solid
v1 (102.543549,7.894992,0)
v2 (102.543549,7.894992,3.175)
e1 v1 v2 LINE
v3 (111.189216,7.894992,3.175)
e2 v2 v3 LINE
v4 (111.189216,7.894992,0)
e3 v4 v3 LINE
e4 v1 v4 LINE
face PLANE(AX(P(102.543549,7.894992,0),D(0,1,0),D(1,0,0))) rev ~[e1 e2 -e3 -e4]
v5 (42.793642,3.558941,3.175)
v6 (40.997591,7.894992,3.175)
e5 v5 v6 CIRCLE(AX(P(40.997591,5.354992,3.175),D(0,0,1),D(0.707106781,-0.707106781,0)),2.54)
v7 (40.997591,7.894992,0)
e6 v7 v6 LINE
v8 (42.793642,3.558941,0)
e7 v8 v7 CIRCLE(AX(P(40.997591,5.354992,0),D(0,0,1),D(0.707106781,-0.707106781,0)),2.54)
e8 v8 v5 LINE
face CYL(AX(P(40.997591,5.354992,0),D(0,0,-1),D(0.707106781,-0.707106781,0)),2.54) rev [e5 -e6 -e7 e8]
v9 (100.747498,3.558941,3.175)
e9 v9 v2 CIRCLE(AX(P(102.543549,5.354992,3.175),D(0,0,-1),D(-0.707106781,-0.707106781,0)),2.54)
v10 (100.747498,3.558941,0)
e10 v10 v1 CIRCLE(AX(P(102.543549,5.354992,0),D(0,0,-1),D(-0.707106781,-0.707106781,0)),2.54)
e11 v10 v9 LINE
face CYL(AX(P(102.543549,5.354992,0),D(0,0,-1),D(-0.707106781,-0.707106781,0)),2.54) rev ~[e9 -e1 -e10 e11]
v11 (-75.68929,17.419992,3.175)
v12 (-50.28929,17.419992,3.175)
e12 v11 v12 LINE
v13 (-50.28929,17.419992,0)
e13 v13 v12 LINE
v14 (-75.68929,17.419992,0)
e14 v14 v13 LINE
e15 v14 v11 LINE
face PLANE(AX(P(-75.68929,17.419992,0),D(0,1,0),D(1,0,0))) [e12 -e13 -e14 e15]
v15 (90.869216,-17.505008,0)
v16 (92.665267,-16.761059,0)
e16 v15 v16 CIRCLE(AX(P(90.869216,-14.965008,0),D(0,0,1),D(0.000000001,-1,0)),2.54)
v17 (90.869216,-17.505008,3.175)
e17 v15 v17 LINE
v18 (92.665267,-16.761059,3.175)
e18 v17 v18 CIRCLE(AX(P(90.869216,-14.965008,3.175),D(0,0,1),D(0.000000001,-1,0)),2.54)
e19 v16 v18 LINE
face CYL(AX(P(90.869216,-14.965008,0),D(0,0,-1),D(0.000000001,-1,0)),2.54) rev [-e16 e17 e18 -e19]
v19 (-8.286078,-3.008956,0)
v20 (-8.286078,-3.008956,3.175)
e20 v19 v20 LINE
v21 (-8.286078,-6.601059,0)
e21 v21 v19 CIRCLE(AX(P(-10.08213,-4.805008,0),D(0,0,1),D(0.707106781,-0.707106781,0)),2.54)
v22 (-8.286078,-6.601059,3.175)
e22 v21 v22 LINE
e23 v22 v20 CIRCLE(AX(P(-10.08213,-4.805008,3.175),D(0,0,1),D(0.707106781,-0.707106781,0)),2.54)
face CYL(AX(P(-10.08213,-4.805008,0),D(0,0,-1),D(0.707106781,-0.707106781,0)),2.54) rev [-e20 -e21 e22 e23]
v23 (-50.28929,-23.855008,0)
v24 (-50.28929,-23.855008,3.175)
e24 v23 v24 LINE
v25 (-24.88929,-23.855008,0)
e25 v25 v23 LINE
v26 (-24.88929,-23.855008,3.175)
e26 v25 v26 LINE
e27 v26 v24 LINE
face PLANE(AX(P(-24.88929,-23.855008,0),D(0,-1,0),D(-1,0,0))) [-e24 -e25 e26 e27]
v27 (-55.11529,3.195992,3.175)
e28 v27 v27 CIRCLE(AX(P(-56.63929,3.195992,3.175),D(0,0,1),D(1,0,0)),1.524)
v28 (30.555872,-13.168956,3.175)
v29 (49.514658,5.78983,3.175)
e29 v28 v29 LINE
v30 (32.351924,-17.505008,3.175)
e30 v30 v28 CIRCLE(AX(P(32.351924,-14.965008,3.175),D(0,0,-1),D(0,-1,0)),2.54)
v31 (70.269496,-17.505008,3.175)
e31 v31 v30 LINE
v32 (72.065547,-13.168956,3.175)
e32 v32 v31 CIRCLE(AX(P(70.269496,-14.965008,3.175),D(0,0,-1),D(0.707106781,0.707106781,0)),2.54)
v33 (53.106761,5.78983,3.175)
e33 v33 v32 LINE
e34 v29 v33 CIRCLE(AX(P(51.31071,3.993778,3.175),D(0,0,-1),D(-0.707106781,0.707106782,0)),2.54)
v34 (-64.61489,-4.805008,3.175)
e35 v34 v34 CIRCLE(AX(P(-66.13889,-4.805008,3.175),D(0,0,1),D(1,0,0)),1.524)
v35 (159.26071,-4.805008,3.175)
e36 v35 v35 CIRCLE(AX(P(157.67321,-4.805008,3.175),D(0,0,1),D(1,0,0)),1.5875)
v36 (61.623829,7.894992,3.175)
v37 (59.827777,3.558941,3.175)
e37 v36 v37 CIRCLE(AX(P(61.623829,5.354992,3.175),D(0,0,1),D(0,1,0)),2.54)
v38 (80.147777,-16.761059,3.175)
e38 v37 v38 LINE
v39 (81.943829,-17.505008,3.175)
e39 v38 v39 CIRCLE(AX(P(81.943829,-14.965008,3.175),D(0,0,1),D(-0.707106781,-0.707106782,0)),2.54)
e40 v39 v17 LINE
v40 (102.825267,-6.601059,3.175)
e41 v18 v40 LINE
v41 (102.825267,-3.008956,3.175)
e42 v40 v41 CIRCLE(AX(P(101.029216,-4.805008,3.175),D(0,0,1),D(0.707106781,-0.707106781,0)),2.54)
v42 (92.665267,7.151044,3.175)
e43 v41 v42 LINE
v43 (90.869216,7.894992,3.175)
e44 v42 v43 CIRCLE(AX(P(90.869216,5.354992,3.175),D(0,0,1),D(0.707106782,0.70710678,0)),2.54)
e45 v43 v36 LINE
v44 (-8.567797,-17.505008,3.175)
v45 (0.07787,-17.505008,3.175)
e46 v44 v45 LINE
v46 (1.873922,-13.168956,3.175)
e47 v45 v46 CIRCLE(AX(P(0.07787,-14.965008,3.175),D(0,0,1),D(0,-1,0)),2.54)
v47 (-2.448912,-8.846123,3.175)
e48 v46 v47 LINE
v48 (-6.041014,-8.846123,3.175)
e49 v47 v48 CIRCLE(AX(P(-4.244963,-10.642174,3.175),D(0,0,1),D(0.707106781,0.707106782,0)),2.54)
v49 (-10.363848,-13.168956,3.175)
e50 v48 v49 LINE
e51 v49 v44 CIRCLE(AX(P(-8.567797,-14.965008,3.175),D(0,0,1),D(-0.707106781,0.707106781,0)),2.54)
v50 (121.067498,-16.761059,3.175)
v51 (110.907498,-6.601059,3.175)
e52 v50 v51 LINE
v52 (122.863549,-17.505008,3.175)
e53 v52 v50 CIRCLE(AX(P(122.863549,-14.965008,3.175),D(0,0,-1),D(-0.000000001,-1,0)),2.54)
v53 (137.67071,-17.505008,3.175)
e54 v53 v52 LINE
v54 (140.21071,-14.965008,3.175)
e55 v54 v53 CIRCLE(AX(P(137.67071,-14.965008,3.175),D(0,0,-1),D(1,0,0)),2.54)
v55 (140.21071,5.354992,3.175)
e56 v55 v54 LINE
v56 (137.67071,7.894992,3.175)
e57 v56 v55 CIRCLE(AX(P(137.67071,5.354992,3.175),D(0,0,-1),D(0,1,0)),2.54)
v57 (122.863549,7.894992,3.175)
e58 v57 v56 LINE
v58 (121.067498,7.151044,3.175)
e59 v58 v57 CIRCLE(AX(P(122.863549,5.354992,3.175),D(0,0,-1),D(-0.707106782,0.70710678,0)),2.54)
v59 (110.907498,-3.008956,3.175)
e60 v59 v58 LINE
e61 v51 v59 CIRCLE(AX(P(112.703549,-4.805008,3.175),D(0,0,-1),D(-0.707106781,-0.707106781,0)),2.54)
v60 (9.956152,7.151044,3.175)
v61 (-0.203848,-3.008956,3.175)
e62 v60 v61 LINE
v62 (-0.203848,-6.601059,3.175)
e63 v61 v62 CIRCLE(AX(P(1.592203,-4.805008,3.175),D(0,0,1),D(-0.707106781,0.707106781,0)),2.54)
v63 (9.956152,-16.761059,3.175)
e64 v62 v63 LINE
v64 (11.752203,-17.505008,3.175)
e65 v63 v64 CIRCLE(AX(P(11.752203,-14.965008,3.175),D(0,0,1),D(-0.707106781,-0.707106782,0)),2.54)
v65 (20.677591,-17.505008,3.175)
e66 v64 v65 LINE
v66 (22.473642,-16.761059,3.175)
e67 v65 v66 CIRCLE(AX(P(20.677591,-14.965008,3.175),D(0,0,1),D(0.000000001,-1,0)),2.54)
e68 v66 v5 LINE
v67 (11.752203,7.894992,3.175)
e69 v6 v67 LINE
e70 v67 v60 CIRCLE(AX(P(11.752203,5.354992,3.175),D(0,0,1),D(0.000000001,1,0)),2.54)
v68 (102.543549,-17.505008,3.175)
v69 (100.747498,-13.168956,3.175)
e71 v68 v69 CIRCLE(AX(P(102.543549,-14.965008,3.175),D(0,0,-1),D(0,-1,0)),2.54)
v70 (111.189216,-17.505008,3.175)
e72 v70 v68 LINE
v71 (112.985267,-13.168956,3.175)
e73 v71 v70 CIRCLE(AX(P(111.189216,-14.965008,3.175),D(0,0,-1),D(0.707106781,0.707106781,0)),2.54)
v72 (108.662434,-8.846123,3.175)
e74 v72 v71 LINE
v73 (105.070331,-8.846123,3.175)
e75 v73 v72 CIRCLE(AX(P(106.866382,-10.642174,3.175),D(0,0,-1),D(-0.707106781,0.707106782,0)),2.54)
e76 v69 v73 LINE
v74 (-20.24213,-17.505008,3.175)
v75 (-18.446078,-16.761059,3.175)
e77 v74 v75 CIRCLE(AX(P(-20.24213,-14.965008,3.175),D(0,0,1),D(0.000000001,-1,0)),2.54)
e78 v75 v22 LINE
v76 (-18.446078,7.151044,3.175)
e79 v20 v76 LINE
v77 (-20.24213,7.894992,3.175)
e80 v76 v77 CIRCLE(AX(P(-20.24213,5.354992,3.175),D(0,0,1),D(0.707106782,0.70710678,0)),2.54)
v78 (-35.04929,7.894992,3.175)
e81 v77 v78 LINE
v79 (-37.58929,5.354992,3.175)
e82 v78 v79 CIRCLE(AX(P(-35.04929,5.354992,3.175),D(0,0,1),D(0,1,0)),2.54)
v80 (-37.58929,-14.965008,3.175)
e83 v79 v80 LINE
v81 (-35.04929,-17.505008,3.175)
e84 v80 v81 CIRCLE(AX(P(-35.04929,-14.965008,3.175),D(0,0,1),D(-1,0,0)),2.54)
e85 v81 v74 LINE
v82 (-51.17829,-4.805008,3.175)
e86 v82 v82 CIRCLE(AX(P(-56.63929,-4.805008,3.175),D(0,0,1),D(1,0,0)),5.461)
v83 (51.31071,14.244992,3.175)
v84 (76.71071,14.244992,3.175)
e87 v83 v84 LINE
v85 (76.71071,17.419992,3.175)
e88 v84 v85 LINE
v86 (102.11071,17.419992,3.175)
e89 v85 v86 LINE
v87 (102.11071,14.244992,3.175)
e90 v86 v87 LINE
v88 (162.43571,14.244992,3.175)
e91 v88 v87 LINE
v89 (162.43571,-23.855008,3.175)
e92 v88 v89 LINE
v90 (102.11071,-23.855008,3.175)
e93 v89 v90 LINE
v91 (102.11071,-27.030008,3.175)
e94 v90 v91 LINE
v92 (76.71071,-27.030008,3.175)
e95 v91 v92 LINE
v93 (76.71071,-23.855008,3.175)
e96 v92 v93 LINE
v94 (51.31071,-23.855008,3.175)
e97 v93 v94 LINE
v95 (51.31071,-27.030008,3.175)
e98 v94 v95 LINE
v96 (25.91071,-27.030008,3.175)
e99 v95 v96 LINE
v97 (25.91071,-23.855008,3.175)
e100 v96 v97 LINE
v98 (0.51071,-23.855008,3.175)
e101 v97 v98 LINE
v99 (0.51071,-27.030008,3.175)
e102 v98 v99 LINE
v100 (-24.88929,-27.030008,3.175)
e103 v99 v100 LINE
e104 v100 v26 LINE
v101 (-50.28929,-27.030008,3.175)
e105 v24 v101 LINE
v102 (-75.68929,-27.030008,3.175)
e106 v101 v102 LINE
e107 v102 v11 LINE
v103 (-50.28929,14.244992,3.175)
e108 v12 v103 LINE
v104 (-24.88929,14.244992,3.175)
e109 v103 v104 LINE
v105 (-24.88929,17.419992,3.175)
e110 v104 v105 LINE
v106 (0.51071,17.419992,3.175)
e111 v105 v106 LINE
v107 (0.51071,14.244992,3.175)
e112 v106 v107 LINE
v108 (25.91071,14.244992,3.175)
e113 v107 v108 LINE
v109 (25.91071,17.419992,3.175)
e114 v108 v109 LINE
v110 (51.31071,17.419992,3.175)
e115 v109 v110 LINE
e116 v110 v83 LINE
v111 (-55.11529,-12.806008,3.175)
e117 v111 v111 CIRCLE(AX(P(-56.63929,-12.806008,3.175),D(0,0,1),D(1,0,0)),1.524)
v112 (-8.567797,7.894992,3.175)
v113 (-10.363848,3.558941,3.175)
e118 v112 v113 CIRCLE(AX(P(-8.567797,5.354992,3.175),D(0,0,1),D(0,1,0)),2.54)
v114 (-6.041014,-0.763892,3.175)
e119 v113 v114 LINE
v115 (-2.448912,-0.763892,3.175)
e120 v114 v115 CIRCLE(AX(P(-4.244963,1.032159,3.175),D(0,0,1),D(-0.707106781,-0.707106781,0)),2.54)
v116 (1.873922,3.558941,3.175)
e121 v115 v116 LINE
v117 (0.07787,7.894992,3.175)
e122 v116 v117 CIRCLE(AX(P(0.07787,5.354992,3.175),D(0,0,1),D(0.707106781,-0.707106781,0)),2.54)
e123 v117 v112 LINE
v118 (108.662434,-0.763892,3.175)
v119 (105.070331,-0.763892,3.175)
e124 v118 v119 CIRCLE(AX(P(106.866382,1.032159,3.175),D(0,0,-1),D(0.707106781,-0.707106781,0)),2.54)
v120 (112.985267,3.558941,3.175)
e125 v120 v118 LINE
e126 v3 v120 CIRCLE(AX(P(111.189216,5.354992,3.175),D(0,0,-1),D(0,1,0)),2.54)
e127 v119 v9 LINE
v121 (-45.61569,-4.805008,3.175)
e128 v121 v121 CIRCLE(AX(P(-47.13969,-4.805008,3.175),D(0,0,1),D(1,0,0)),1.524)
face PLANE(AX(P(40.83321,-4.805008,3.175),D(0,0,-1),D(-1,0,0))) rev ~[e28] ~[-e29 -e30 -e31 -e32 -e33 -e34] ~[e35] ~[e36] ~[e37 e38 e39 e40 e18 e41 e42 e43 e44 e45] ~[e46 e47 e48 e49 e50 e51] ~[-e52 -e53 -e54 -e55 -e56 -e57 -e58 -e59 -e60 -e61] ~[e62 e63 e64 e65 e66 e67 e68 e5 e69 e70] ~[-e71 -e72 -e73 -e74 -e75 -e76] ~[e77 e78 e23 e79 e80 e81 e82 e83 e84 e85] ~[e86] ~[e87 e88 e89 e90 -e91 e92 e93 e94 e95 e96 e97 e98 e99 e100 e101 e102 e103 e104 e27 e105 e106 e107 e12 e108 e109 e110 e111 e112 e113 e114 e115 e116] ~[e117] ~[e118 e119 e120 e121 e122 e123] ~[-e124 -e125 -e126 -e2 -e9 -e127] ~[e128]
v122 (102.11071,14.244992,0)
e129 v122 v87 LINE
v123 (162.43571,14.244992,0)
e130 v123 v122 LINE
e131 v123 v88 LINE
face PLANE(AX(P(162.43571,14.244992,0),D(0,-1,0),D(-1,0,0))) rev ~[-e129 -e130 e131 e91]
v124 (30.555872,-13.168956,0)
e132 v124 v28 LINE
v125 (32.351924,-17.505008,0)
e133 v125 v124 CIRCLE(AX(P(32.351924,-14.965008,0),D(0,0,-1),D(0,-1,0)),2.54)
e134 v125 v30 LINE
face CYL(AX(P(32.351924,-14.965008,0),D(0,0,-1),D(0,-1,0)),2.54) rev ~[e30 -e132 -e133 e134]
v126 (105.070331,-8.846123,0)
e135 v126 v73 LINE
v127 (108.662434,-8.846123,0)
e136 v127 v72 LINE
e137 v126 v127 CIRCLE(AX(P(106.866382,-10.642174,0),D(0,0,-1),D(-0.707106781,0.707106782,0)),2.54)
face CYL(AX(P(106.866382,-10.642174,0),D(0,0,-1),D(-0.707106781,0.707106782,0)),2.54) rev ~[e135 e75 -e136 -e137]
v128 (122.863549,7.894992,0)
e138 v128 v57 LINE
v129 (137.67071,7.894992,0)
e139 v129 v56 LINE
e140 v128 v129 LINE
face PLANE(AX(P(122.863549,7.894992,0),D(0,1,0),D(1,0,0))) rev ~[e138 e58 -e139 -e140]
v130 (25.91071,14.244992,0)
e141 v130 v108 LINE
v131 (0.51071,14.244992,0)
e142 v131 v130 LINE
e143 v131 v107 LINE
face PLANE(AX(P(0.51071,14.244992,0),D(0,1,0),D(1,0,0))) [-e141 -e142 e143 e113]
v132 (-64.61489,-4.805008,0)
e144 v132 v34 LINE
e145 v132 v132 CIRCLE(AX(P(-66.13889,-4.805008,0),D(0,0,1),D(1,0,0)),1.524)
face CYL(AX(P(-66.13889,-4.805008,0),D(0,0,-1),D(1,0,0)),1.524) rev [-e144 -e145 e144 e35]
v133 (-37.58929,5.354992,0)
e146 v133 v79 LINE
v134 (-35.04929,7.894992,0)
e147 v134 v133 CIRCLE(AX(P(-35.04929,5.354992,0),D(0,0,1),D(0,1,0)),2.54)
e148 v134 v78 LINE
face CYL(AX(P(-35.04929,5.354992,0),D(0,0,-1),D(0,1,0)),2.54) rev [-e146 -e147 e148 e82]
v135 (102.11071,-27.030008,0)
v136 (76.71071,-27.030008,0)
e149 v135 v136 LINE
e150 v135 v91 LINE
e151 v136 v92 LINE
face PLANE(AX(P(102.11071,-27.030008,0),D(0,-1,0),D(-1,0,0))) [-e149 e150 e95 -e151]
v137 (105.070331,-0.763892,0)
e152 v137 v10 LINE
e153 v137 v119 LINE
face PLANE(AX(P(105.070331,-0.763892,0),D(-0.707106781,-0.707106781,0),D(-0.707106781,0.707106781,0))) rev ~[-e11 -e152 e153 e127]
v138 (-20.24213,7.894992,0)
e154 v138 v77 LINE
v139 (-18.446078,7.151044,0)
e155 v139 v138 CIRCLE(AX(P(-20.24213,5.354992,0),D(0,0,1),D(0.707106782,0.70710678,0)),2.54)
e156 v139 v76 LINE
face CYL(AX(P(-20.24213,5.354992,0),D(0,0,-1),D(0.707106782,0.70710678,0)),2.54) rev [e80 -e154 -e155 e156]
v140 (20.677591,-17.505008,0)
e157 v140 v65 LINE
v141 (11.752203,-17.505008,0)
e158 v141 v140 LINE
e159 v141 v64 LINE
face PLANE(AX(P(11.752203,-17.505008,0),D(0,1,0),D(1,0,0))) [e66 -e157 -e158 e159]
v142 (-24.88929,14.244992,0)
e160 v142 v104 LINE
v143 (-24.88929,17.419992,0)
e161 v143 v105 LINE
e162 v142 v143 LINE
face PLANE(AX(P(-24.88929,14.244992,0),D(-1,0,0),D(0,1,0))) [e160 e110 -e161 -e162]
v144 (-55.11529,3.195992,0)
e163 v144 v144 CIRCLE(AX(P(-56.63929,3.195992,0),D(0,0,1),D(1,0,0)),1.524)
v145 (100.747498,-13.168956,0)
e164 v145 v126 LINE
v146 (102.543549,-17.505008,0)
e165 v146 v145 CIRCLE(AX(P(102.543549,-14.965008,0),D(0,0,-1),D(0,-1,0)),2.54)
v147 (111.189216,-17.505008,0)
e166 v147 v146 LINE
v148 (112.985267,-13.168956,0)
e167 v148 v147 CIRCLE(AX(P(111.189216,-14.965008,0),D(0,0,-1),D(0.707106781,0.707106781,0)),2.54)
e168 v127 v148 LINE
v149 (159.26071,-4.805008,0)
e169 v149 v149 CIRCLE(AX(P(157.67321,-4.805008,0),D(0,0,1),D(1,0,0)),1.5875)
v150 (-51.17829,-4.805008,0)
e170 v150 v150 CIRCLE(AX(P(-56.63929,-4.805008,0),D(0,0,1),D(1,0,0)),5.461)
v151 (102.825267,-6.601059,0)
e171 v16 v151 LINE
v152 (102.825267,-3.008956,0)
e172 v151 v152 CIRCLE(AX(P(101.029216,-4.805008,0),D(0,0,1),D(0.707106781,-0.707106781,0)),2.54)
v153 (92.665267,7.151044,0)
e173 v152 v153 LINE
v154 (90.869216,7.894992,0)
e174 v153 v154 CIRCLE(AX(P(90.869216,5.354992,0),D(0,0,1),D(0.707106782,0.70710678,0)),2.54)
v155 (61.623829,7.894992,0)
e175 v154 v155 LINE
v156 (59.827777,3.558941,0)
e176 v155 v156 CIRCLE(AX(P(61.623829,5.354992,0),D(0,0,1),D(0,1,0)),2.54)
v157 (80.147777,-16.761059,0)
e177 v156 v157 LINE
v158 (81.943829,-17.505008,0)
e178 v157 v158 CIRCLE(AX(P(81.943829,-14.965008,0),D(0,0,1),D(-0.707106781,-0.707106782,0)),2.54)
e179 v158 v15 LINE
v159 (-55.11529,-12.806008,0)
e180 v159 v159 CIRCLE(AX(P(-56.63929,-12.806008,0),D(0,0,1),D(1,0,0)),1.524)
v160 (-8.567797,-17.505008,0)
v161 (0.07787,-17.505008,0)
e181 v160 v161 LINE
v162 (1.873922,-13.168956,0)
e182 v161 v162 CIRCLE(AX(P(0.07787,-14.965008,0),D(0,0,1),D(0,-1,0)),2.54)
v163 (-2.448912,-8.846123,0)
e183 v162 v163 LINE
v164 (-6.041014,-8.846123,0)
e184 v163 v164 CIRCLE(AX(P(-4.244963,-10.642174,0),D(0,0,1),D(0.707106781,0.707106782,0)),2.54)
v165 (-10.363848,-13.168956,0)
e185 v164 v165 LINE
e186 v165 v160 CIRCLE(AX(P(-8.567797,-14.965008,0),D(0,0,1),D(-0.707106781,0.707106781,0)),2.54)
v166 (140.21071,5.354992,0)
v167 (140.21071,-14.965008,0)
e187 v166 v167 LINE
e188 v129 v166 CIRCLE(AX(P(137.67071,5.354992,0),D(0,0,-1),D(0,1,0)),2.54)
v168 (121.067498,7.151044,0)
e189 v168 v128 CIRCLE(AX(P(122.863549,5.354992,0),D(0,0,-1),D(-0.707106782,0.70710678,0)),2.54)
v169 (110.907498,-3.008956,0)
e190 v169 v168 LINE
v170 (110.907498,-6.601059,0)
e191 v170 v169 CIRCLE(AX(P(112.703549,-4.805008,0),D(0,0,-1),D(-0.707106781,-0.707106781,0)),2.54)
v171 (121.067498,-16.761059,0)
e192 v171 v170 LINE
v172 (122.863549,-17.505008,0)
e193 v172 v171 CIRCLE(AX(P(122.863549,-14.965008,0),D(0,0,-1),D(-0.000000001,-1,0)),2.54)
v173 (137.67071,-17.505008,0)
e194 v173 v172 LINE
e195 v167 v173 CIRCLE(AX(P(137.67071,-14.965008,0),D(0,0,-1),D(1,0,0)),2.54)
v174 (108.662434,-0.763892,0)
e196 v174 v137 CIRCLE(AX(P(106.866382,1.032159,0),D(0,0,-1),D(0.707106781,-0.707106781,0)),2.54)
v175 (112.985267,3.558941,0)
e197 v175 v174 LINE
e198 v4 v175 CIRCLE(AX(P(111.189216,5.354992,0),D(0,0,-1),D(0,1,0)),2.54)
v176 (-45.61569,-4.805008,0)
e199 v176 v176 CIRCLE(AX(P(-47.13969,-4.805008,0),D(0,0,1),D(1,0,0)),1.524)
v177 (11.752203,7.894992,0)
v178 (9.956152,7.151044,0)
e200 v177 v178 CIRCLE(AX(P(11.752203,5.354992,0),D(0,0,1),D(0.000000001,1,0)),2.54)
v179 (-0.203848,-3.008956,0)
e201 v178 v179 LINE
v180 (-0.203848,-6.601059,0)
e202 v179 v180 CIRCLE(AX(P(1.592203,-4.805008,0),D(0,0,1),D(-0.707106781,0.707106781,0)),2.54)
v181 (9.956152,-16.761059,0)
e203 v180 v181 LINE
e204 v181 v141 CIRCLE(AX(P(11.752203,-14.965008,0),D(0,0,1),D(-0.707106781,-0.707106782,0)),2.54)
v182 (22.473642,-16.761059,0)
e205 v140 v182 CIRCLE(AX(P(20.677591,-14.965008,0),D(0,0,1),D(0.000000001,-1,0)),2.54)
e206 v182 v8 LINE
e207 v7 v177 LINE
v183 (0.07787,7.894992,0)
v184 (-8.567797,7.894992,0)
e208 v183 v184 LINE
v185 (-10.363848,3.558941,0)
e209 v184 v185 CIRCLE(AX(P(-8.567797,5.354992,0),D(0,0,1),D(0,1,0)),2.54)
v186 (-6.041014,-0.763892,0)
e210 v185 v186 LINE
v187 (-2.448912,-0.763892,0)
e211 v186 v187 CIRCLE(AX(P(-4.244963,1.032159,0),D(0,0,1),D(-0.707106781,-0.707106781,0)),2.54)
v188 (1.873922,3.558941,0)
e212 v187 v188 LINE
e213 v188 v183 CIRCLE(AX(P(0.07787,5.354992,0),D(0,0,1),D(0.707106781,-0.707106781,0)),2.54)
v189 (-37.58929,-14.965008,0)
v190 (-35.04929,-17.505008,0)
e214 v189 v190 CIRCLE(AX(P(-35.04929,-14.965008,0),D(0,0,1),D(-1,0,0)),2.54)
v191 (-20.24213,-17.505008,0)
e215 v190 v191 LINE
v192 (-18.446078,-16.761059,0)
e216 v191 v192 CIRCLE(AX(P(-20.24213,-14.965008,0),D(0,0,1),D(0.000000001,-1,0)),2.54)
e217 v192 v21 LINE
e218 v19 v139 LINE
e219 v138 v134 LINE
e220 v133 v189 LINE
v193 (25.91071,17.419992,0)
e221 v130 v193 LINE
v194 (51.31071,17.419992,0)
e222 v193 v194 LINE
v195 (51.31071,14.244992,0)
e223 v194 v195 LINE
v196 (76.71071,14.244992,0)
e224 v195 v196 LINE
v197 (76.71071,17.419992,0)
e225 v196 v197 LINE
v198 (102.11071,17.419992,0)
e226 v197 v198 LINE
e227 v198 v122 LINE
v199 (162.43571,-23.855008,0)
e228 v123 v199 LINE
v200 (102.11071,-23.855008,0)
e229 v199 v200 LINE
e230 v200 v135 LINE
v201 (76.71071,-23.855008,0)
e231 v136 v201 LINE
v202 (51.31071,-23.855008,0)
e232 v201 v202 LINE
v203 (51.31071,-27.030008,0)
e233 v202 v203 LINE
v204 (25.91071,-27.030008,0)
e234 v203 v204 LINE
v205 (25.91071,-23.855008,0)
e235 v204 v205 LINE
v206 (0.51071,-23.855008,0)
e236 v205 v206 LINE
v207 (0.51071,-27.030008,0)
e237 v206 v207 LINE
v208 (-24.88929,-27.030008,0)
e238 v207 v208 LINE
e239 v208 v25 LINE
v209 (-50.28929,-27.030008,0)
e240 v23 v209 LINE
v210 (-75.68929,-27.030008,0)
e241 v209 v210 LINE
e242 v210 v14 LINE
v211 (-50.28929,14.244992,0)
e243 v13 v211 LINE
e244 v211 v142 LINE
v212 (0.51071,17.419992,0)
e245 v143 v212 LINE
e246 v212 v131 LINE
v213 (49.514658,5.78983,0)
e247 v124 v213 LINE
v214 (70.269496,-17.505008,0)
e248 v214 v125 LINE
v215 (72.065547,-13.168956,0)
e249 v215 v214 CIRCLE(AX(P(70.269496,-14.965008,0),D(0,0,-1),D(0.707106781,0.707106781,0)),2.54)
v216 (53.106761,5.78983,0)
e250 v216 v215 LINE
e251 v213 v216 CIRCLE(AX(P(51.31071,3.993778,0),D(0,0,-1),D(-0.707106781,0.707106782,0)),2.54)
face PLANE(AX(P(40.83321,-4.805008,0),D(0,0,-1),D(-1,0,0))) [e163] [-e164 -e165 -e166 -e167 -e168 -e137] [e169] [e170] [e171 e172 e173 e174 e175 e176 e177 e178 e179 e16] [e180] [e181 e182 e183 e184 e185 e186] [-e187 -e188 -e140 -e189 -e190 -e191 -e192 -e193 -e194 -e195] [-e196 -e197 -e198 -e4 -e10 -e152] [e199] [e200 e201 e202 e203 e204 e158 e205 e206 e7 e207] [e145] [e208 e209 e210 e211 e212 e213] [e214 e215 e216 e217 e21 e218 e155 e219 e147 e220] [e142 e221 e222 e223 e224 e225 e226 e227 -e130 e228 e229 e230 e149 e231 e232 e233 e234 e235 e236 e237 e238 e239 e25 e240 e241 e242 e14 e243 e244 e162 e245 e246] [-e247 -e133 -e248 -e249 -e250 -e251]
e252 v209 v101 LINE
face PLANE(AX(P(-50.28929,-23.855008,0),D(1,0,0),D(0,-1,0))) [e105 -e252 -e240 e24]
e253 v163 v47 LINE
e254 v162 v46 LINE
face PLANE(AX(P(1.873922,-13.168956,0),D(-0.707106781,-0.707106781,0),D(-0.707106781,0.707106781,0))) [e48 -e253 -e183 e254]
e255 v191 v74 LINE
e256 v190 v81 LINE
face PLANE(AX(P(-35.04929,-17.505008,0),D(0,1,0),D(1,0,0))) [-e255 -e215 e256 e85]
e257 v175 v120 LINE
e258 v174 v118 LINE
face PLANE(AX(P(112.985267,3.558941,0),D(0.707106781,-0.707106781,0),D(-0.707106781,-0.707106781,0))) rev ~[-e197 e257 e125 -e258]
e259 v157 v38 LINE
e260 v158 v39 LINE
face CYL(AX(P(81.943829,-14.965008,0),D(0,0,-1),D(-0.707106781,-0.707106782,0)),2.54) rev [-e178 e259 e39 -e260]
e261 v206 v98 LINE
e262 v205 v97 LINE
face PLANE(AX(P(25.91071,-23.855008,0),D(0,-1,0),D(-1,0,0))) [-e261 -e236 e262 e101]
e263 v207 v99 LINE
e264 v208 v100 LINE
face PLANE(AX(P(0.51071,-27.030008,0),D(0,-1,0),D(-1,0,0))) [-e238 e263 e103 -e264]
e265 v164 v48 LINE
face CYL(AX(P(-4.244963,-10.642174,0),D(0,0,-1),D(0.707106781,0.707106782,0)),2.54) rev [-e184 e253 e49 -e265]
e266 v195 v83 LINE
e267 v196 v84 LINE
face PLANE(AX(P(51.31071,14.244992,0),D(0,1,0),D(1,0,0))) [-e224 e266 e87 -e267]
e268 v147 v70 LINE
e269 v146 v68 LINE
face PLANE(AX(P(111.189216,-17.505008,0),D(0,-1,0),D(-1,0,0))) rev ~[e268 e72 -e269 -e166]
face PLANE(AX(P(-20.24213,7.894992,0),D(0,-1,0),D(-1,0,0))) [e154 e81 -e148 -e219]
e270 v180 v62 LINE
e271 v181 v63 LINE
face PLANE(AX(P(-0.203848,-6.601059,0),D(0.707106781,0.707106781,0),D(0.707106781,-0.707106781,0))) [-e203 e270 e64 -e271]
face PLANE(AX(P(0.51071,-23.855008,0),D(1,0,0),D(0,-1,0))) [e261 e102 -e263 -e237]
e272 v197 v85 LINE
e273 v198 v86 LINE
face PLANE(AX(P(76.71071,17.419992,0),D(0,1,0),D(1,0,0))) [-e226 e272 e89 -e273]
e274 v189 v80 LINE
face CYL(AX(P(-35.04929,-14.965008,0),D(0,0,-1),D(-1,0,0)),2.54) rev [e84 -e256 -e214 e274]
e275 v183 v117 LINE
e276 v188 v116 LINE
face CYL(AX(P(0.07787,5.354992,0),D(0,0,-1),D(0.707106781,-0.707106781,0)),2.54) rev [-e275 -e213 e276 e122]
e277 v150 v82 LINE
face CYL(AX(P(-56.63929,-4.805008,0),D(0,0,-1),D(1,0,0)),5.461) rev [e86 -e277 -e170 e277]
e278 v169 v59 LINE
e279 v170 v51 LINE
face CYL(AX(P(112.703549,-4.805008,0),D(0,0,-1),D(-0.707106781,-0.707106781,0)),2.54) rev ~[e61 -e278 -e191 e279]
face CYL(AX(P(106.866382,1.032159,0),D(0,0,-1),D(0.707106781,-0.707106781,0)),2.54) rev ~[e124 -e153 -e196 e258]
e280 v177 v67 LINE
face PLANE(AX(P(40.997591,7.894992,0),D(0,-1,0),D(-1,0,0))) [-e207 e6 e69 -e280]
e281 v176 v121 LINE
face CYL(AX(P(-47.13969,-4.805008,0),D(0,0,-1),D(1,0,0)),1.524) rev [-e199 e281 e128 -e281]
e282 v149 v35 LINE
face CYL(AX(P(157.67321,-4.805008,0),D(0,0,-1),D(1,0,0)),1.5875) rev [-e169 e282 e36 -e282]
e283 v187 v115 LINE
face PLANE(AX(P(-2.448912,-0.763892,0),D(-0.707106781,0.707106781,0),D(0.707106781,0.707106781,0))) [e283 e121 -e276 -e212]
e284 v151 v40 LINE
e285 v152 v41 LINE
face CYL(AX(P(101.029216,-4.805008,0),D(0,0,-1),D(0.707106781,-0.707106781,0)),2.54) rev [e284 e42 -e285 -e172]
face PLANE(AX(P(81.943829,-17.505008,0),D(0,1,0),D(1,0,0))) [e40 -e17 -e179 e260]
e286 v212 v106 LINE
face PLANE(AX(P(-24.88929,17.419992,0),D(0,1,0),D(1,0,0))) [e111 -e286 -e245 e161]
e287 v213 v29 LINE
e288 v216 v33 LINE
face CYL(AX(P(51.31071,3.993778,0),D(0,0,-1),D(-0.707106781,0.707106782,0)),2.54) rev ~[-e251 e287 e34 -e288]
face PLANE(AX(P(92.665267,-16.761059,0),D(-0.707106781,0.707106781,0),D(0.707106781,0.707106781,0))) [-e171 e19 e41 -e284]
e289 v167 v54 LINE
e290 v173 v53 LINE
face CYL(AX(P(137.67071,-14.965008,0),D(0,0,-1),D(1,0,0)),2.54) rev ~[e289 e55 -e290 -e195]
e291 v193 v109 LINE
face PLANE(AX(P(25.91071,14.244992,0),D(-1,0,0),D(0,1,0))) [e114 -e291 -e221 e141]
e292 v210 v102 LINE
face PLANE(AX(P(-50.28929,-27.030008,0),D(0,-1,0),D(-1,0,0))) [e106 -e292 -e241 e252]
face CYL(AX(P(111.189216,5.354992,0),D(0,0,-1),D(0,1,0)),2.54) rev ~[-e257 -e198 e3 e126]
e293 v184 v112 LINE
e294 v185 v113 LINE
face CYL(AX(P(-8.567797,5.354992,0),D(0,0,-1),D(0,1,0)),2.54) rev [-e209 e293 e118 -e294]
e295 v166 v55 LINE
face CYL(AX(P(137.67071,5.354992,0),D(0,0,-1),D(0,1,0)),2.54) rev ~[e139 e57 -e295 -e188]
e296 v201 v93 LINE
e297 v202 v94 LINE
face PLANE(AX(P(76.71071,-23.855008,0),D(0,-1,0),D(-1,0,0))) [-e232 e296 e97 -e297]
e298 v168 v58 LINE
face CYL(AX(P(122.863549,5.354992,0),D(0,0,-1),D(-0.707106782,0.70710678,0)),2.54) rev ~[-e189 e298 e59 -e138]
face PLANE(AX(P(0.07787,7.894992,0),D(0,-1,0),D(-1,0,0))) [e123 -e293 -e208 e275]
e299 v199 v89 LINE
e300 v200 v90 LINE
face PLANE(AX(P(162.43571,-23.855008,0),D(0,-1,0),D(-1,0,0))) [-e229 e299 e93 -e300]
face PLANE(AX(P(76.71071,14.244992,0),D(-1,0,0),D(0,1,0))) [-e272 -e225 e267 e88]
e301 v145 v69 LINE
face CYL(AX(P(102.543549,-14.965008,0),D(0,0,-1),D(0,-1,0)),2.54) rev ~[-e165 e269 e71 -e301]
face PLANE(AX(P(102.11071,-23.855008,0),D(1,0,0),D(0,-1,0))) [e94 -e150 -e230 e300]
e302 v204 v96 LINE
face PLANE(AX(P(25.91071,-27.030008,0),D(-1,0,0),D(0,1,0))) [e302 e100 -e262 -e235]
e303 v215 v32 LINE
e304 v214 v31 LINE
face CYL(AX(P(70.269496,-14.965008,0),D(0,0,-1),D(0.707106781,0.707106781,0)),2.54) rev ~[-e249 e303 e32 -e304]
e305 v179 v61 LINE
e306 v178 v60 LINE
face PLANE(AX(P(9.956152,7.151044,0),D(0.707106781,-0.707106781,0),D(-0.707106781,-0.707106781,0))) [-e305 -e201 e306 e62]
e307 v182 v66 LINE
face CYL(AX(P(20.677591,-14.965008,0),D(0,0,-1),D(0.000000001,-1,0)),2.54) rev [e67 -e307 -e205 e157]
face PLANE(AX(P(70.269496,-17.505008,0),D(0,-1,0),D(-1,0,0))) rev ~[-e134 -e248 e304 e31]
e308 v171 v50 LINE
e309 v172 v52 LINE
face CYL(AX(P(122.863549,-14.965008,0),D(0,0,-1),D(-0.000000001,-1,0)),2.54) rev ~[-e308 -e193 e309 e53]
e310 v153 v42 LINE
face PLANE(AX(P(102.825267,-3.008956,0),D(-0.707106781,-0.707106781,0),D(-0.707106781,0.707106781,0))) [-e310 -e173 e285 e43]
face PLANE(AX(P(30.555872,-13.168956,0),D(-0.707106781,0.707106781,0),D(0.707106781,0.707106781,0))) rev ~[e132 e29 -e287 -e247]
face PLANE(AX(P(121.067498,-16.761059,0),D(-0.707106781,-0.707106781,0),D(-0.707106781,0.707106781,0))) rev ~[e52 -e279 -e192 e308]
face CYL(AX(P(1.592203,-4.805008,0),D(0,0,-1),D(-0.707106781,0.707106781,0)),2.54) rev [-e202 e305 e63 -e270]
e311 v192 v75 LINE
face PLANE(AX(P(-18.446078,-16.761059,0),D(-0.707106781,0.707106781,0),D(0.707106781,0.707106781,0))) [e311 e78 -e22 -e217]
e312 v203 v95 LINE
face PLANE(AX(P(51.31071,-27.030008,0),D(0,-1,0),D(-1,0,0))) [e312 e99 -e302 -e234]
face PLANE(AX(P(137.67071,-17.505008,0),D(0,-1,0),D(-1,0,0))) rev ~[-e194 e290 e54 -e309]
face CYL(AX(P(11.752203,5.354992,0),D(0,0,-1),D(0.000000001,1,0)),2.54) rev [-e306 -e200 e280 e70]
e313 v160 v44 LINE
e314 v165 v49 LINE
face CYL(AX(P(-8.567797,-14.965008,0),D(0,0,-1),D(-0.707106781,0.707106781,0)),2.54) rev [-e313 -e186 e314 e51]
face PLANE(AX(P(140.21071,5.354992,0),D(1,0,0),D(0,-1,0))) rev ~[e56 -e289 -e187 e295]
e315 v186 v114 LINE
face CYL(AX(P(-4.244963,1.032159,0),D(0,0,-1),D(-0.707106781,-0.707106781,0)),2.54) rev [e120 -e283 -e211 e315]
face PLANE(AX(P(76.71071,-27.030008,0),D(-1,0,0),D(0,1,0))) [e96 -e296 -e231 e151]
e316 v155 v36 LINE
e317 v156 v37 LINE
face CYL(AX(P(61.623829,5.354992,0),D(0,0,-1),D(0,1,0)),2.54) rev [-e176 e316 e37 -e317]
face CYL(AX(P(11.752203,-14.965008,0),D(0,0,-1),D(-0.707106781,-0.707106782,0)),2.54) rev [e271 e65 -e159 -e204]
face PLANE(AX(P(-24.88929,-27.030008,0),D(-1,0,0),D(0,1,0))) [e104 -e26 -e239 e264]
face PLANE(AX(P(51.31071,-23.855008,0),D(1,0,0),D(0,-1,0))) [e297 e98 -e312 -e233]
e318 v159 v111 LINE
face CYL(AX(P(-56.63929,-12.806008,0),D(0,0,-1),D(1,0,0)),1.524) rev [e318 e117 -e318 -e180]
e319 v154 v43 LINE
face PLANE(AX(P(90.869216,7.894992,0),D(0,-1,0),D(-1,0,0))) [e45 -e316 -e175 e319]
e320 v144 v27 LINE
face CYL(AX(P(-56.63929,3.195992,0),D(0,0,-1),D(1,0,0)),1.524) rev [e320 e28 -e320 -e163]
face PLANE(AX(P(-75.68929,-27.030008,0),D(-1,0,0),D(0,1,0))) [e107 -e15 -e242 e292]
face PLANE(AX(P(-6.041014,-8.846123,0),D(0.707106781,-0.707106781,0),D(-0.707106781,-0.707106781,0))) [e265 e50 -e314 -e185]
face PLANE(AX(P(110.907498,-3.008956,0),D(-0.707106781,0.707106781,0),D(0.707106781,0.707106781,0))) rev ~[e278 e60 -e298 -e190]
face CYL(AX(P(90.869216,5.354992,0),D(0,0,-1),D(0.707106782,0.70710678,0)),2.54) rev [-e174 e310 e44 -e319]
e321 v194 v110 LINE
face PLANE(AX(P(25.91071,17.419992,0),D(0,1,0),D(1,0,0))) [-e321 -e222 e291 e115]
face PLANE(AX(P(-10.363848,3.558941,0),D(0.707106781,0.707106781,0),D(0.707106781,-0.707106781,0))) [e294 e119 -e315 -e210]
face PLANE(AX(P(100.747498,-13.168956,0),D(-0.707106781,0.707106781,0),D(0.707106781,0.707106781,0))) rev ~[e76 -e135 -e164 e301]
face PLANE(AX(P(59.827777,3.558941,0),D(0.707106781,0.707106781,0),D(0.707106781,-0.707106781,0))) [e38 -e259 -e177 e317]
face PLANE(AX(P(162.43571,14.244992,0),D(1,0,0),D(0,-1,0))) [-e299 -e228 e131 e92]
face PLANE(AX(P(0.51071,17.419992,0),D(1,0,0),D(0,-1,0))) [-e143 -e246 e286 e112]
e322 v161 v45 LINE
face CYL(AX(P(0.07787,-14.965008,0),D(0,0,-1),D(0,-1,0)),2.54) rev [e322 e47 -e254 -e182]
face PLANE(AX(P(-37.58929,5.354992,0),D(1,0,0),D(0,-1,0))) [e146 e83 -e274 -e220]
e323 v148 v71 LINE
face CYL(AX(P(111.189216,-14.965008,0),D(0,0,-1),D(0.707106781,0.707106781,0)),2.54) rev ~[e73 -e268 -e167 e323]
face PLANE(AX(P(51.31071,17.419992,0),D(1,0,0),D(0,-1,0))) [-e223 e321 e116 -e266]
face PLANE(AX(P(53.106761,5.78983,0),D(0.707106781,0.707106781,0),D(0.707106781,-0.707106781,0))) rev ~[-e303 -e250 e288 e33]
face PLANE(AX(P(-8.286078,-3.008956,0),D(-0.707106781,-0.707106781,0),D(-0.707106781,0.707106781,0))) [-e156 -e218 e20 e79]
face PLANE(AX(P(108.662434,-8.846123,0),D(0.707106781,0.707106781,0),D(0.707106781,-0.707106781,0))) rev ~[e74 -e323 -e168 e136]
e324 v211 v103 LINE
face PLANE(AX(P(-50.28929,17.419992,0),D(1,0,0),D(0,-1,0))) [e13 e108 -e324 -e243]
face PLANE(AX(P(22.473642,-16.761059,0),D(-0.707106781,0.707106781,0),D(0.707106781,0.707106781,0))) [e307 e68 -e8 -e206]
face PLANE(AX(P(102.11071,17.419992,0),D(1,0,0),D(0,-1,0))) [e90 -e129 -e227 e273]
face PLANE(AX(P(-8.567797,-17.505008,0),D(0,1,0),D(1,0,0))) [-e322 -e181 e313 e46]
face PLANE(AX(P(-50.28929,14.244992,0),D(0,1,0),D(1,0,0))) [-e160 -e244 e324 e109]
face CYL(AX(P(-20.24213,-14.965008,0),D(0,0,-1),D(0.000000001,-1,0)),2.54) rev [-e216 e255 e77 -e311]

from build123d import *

# Parameters (mm, degrees)
SKETCH1_R           = 1.524
SKETCH1_R_2         = 1.5875
SKETCH1_R_3         = 5.461
BOSS_EXTRUDE1_DEPTH = 3.175


with BuildPart() as part:
    # Sketch1 → Boss-Extrude1 (new body)
    with BuildSketch(Plane.XY):
        Polygon((-24.889290425, 17.419992315), (0.510709575, 17.419992315), (0.510709575, 14.244992315), (25.910709575, 14.244992315), (25.910709575, 17.419992315), (51.310709575, 17.419992315), (51.310709575, 14.244992315), (76.710709575, 14.244992315), (76.710709575, 17.419992315), (102.110709575, 17.419992315), (102.110709575, 14.244992315), (152.910709575, 14.244992315), (162.435709575, 14.244992315), (162.435709575, -23.855007685), (102.110709575, -23.855007685), (102.110709575, -27.030007685), (76.710709575, -27.030007685), (76.710709575, -23.855007685), (51.310709575, -23.855007685), (51.310709575, -27.030007685), (25.910709575, -27.030007685), (25.910709575, -23.855007685), (0.510709575, -23.855007685), (0.510709575, -27.030007685), (-24.889290425, -27.030007685), (-24.889290425, -23.855007685), (-50.289290425, -23.855007685), (-50.289290425, -27.030007685), (-75.689290425, -27.030007685), (-75.689290425, 17.419992315), (-50.289290425, 17.419992315), (-50.289290425, 14.244992315), (-24.889290425, 14.244992315), align=None)
        with Locations((-47.139690425, -4.805007685)):
            Circle(SKETCH1_R, mode=Mode.SUBTRACT)
        with Locations((-56.639290425, -12.806007685)):
            Circle(SKETCH1_R, mode=Mode.SUBTRACT)
        with Locations((-56.639290425, 3.195992315)):
            Circle(SKETCH1_R, mode=Mode.SUBTRACT)
        with Locations((-66.138890425, -4.805007685)):
            Circle(SKETCH1_R, mode=Mode.SUBTRACT)
        with Locations((157.673209575, -4.805007685)):
            Circle(SKETCH1_R_2, mode=Mode.SUBTRACT)
        with Locations((-56.639290425, -4.805007685)):
            Circle(SKETCH1_R_3, mode=Mode.SUBTRACT)
        with BuildLine():
            Line((-2.448912015, -0.76389243), (1.873921506, 3.558941091))
            ThreePointArc((1.873921506, 3.558941091), (2.424524294, 6.327008233), (0.077870282, 7.894992315))
            Line((0.077870282, 7.894992315), (-8.567796761, 7.894992315))
            ThreePointArc((-8.567796761, 7.894992315), (-10.914450773, 6.327008233), (-10.363847985, 3.558941091))
            Line((-10.363847985, 3.558941091), (-6.041014464, -0.76389243))
            ThreePointArc((-6.041014464, -0.76389243), (-4.244963239, -1.507841206), (-2.448912015, -0.76389243))
        make_face(mode=Mode.SUBTRACT)
        with BuildLine():
            Line((-8.567796761, -17.505007685), (0.077870282, -17.505007685))
            ThreePointArc((0.077870282, -17.505007685), (2.424524294, -15.937023603), (1.873921506, -13.168956461))
            Line((1.873921506, -13.168956461), (-2.448912015, -8.846122939))
            ThreePointArc((-2.448912015, -8.846122939), (-4.244963239, -8.102174164), (-6.041014464, -8.846122939))
            Line((-6.041014464, -8.846122939), (-10.363847985, -13.168956461))
            ThreePointArc((-10.363847985, -13.168956461), (-10.914450773, -15.937023603), (-8.567796761, -17.505007685))
        make_face(mode=Mode.SUBTRACT)
        with BuildLine():
            Line((-37.589290425, 5.354992315), (-37.589290425, -14.965007685))
            ThreePointArc((-37.589290425, -14.965007685), (-36.845341649, -16.761058909), (-35.049290425, -17.505007685))
            Line((-35.049290425, -17.505007685), (-20.242129718, -17.505007685))
            ThreePointArc((-20.242129718, -17.505007685), (-19.2701138, -17.311661697), (-18.446078494, -16.761058909))
            Line((-18.446078494, -16.761058909), (-8.286078494, -6.601058909))
            ThreePointArc((-8.286078494, -6.601058909), (-7.542129718, -4.805007685), (-8.286078494, -3.008956461))
            Line((-8.286078494, -3.008956461), (-18.446078494, 7.151043539))
            ThreePointArc((-18.446078494, 7.151043539), (-19.2701138, 7.701646328), (-20.242129718, 7.894992315))
            Line((-20.242129718, 7.894992315), (-35.049290425, 7.894992315))
            ThreePointArc((-35.049290425, 7.894992315), (-36.845341649, 7.151043539), (-37.589290425, 5.354992315))
        make_face(mode=Mode.SUBTRACT)
        with BuildLine():
            Line((9.956152015, 7.151043539), (-0.203847985, -3.008956461))
            ThreePointArc((-0.203847985, -3.008956461), (-0.947796761, -4.805007685), (-0.203847985, -6.601058909))
            Line((-0.203847985, -6.601058909), (9.956152015, -16.761058909))
            ThreePointArc((9.956152015, -16.761058909), (10.780187321, -17.311661697), (11.752203239, -17.505007685))
            Line((11.752203239, -17.505007685), (20.677590576, -17.505007685))
            ThreePointArc((20.677590576, -17.505007685), (21.649606495, -17.311661697), (22.473641801, -16.761058909))
            Line((22.473641801, -16.761058909), (42.793641801, 3.558941091))
            ThreePointArc((42.793641801, 3.558941091), (43.344244589, 6.327008233), (40.997590576, 7.894992315))
            Line((40.997590576, 7.894992315), (11.752203239, 7.894992315))
            ThreePointArc((11.752203239, 7.894992315), (10.780187321, 7.701646328), (9.956152015, 7.151043539))
        make_face(mode=Mode.SUBTRACT)
        with BuildLine():
            Line((121.067497644, -16.761058909), (110.907497644, -6.601058909))
            ThreePointArc((110.907497644, -6.601058909), (110.163548868, -4.805007685), (110.907497644, -3.008956461))
            Line((110.907497644, -3.008956461), (121.067497644, 7.151043539))
            ThreePointArc((121.067497644, 7.151043539), (121.89153295, 7.701646328), (122.863548868, 7.894992315))
            Line((122.863548868, 7.894992315), (137.670709575, 7.894992315))
            ThreePointArc((137.670709575, 7.894992315), (139.466760799, 7.151043539), (140.210709575, 5.354992315))
            Line((140.210709575, 5.354992315), (140.210709575, -14.965007685))
            ThreePointArc((140.210709575, -14.965007685), (139.466760799, -16.761058909), (137.670709575, -17.505007685))
            Line((137.670709575, -17.505007685), (122.863548868, -17.505007685))
            ThreePointArc((122.863548868, -17.505007685), (121.89153295, -17.311661697), (121.067497644, -16.761058909))
        make_face(mode=Mode.SUBTRACT)
        with BuildLine():
            Line((90.869215911, 7.894992315), (61.623828574, 7.894992315))
            ThreePointArc((61.623828574, 7.894992315), (59.277174561, 6.327008233), (59.82777735, 3.558941091))
            Line((59.82777735, 3.558941091), (80.14777735, -16.761058909))
            ThreePointArc((80.14777735, -16.761058909), (80.971812656, -17.311661697), (81.943828574, -17.505007685))
            Line((81.943828574, -17.505007685), (90.869215911, -17.505007685))
            ThreePointArc((90.869215911, -17.505007685), (91.841231829, -17.311661697), (92.665267135, -16.761058909))
            Line((92.665267135, -16.761058909), (102.825267135, -6.601058909))
            ThreePointArc((102.825267135, -6.601058909), (103.569215911, -4.805007685), (102.825267135, -3.008956461))
            Line((102.825267135, -3.008956461), (92.665267135, 7.151043539))
            ThreePointArc((92.665267135, 7.151043539), (91.841231829, 7.701646328), (90.869215911, 7.894992315))
        make_face(mode=Mode.SUBTRACT)
        with BuildLine():
            Line((111.189215911, -17.505007685), (102.543548868, -17.505007685))
            ThreePointArc((102.543548868, -17.505007685), (100.196894856, -15.937023603), (100.747497644, -13.168956461))
            Line((100.747497644, -13.168956461), (105.070331165, -8.846122939))
            ThreePointArc((105.070331165, -8.846122939), (106.86638239, -8.102174164), (108.662433614, -8.846122939))
            Line((108.662433614, -8.846122939), (112.985267135, -13.168956461))
            ThreePointArc((112.985267135, -13.168956461), (113.535869924, -15.937023603), (111.189215911, -17.505007685))
        make_face(mode=Mode.SUBTRACT)
        with BuildLine():
            Line((105.070331165, -0.76389243), (100.747497644, 3.558941091))
            ThreePointArc((100.747497644, 3.558941091), (100.196894856, 6.327008233), (102.543548868, 7.894992315))
            Line((102.543548868, 7.894992315), (111.189215911, 7.894992315))
            ThreePointArc((111.189215911, 7.894992315), (113.535869924, 6.327008233), (112.985267135, 3.558941091))
            Line((112.985267135, 3.558941091), (108.662433614, -0.76389243))
            ThreePointArc((108.662433614, -0.76389243), (106.86638239, -1.507841206), (105.070331165, -0.76389243))
        make_face(mode=Mode.SUBTRACT)
        with BuildLine():
            Line((67.742713319, -8.846122939), (72.065546841, -13.168956461))
            ThreePointArc((72.065546841, -13.168956461), (72.616149629, -15.937023603), (70.269495616, -17.505007685))
            Line((70.269495616, -17.505007685), (32.351923534, -17.505007685))
            ThreePointArc((32.351923534, -17.505007685), (30.005269521, -15.937023603), (30.55587231, -13.168956461))
            Line((30.55587231, -13.168956461), (49.514658351, 5.789829581))
            ThreePointArc((49.514658351, 5.789829581), (51.310709575, 6.533778356), (53.106760799, 5.789829581))
            Line((53.106760799, 5.789829581), (67.742713319, -8.846122939))
        make_face(mode=Mode.SUBTRACT)
    extrude(amount=BOSS_EXTRUDE1_DEPTH)


solid = part.part
